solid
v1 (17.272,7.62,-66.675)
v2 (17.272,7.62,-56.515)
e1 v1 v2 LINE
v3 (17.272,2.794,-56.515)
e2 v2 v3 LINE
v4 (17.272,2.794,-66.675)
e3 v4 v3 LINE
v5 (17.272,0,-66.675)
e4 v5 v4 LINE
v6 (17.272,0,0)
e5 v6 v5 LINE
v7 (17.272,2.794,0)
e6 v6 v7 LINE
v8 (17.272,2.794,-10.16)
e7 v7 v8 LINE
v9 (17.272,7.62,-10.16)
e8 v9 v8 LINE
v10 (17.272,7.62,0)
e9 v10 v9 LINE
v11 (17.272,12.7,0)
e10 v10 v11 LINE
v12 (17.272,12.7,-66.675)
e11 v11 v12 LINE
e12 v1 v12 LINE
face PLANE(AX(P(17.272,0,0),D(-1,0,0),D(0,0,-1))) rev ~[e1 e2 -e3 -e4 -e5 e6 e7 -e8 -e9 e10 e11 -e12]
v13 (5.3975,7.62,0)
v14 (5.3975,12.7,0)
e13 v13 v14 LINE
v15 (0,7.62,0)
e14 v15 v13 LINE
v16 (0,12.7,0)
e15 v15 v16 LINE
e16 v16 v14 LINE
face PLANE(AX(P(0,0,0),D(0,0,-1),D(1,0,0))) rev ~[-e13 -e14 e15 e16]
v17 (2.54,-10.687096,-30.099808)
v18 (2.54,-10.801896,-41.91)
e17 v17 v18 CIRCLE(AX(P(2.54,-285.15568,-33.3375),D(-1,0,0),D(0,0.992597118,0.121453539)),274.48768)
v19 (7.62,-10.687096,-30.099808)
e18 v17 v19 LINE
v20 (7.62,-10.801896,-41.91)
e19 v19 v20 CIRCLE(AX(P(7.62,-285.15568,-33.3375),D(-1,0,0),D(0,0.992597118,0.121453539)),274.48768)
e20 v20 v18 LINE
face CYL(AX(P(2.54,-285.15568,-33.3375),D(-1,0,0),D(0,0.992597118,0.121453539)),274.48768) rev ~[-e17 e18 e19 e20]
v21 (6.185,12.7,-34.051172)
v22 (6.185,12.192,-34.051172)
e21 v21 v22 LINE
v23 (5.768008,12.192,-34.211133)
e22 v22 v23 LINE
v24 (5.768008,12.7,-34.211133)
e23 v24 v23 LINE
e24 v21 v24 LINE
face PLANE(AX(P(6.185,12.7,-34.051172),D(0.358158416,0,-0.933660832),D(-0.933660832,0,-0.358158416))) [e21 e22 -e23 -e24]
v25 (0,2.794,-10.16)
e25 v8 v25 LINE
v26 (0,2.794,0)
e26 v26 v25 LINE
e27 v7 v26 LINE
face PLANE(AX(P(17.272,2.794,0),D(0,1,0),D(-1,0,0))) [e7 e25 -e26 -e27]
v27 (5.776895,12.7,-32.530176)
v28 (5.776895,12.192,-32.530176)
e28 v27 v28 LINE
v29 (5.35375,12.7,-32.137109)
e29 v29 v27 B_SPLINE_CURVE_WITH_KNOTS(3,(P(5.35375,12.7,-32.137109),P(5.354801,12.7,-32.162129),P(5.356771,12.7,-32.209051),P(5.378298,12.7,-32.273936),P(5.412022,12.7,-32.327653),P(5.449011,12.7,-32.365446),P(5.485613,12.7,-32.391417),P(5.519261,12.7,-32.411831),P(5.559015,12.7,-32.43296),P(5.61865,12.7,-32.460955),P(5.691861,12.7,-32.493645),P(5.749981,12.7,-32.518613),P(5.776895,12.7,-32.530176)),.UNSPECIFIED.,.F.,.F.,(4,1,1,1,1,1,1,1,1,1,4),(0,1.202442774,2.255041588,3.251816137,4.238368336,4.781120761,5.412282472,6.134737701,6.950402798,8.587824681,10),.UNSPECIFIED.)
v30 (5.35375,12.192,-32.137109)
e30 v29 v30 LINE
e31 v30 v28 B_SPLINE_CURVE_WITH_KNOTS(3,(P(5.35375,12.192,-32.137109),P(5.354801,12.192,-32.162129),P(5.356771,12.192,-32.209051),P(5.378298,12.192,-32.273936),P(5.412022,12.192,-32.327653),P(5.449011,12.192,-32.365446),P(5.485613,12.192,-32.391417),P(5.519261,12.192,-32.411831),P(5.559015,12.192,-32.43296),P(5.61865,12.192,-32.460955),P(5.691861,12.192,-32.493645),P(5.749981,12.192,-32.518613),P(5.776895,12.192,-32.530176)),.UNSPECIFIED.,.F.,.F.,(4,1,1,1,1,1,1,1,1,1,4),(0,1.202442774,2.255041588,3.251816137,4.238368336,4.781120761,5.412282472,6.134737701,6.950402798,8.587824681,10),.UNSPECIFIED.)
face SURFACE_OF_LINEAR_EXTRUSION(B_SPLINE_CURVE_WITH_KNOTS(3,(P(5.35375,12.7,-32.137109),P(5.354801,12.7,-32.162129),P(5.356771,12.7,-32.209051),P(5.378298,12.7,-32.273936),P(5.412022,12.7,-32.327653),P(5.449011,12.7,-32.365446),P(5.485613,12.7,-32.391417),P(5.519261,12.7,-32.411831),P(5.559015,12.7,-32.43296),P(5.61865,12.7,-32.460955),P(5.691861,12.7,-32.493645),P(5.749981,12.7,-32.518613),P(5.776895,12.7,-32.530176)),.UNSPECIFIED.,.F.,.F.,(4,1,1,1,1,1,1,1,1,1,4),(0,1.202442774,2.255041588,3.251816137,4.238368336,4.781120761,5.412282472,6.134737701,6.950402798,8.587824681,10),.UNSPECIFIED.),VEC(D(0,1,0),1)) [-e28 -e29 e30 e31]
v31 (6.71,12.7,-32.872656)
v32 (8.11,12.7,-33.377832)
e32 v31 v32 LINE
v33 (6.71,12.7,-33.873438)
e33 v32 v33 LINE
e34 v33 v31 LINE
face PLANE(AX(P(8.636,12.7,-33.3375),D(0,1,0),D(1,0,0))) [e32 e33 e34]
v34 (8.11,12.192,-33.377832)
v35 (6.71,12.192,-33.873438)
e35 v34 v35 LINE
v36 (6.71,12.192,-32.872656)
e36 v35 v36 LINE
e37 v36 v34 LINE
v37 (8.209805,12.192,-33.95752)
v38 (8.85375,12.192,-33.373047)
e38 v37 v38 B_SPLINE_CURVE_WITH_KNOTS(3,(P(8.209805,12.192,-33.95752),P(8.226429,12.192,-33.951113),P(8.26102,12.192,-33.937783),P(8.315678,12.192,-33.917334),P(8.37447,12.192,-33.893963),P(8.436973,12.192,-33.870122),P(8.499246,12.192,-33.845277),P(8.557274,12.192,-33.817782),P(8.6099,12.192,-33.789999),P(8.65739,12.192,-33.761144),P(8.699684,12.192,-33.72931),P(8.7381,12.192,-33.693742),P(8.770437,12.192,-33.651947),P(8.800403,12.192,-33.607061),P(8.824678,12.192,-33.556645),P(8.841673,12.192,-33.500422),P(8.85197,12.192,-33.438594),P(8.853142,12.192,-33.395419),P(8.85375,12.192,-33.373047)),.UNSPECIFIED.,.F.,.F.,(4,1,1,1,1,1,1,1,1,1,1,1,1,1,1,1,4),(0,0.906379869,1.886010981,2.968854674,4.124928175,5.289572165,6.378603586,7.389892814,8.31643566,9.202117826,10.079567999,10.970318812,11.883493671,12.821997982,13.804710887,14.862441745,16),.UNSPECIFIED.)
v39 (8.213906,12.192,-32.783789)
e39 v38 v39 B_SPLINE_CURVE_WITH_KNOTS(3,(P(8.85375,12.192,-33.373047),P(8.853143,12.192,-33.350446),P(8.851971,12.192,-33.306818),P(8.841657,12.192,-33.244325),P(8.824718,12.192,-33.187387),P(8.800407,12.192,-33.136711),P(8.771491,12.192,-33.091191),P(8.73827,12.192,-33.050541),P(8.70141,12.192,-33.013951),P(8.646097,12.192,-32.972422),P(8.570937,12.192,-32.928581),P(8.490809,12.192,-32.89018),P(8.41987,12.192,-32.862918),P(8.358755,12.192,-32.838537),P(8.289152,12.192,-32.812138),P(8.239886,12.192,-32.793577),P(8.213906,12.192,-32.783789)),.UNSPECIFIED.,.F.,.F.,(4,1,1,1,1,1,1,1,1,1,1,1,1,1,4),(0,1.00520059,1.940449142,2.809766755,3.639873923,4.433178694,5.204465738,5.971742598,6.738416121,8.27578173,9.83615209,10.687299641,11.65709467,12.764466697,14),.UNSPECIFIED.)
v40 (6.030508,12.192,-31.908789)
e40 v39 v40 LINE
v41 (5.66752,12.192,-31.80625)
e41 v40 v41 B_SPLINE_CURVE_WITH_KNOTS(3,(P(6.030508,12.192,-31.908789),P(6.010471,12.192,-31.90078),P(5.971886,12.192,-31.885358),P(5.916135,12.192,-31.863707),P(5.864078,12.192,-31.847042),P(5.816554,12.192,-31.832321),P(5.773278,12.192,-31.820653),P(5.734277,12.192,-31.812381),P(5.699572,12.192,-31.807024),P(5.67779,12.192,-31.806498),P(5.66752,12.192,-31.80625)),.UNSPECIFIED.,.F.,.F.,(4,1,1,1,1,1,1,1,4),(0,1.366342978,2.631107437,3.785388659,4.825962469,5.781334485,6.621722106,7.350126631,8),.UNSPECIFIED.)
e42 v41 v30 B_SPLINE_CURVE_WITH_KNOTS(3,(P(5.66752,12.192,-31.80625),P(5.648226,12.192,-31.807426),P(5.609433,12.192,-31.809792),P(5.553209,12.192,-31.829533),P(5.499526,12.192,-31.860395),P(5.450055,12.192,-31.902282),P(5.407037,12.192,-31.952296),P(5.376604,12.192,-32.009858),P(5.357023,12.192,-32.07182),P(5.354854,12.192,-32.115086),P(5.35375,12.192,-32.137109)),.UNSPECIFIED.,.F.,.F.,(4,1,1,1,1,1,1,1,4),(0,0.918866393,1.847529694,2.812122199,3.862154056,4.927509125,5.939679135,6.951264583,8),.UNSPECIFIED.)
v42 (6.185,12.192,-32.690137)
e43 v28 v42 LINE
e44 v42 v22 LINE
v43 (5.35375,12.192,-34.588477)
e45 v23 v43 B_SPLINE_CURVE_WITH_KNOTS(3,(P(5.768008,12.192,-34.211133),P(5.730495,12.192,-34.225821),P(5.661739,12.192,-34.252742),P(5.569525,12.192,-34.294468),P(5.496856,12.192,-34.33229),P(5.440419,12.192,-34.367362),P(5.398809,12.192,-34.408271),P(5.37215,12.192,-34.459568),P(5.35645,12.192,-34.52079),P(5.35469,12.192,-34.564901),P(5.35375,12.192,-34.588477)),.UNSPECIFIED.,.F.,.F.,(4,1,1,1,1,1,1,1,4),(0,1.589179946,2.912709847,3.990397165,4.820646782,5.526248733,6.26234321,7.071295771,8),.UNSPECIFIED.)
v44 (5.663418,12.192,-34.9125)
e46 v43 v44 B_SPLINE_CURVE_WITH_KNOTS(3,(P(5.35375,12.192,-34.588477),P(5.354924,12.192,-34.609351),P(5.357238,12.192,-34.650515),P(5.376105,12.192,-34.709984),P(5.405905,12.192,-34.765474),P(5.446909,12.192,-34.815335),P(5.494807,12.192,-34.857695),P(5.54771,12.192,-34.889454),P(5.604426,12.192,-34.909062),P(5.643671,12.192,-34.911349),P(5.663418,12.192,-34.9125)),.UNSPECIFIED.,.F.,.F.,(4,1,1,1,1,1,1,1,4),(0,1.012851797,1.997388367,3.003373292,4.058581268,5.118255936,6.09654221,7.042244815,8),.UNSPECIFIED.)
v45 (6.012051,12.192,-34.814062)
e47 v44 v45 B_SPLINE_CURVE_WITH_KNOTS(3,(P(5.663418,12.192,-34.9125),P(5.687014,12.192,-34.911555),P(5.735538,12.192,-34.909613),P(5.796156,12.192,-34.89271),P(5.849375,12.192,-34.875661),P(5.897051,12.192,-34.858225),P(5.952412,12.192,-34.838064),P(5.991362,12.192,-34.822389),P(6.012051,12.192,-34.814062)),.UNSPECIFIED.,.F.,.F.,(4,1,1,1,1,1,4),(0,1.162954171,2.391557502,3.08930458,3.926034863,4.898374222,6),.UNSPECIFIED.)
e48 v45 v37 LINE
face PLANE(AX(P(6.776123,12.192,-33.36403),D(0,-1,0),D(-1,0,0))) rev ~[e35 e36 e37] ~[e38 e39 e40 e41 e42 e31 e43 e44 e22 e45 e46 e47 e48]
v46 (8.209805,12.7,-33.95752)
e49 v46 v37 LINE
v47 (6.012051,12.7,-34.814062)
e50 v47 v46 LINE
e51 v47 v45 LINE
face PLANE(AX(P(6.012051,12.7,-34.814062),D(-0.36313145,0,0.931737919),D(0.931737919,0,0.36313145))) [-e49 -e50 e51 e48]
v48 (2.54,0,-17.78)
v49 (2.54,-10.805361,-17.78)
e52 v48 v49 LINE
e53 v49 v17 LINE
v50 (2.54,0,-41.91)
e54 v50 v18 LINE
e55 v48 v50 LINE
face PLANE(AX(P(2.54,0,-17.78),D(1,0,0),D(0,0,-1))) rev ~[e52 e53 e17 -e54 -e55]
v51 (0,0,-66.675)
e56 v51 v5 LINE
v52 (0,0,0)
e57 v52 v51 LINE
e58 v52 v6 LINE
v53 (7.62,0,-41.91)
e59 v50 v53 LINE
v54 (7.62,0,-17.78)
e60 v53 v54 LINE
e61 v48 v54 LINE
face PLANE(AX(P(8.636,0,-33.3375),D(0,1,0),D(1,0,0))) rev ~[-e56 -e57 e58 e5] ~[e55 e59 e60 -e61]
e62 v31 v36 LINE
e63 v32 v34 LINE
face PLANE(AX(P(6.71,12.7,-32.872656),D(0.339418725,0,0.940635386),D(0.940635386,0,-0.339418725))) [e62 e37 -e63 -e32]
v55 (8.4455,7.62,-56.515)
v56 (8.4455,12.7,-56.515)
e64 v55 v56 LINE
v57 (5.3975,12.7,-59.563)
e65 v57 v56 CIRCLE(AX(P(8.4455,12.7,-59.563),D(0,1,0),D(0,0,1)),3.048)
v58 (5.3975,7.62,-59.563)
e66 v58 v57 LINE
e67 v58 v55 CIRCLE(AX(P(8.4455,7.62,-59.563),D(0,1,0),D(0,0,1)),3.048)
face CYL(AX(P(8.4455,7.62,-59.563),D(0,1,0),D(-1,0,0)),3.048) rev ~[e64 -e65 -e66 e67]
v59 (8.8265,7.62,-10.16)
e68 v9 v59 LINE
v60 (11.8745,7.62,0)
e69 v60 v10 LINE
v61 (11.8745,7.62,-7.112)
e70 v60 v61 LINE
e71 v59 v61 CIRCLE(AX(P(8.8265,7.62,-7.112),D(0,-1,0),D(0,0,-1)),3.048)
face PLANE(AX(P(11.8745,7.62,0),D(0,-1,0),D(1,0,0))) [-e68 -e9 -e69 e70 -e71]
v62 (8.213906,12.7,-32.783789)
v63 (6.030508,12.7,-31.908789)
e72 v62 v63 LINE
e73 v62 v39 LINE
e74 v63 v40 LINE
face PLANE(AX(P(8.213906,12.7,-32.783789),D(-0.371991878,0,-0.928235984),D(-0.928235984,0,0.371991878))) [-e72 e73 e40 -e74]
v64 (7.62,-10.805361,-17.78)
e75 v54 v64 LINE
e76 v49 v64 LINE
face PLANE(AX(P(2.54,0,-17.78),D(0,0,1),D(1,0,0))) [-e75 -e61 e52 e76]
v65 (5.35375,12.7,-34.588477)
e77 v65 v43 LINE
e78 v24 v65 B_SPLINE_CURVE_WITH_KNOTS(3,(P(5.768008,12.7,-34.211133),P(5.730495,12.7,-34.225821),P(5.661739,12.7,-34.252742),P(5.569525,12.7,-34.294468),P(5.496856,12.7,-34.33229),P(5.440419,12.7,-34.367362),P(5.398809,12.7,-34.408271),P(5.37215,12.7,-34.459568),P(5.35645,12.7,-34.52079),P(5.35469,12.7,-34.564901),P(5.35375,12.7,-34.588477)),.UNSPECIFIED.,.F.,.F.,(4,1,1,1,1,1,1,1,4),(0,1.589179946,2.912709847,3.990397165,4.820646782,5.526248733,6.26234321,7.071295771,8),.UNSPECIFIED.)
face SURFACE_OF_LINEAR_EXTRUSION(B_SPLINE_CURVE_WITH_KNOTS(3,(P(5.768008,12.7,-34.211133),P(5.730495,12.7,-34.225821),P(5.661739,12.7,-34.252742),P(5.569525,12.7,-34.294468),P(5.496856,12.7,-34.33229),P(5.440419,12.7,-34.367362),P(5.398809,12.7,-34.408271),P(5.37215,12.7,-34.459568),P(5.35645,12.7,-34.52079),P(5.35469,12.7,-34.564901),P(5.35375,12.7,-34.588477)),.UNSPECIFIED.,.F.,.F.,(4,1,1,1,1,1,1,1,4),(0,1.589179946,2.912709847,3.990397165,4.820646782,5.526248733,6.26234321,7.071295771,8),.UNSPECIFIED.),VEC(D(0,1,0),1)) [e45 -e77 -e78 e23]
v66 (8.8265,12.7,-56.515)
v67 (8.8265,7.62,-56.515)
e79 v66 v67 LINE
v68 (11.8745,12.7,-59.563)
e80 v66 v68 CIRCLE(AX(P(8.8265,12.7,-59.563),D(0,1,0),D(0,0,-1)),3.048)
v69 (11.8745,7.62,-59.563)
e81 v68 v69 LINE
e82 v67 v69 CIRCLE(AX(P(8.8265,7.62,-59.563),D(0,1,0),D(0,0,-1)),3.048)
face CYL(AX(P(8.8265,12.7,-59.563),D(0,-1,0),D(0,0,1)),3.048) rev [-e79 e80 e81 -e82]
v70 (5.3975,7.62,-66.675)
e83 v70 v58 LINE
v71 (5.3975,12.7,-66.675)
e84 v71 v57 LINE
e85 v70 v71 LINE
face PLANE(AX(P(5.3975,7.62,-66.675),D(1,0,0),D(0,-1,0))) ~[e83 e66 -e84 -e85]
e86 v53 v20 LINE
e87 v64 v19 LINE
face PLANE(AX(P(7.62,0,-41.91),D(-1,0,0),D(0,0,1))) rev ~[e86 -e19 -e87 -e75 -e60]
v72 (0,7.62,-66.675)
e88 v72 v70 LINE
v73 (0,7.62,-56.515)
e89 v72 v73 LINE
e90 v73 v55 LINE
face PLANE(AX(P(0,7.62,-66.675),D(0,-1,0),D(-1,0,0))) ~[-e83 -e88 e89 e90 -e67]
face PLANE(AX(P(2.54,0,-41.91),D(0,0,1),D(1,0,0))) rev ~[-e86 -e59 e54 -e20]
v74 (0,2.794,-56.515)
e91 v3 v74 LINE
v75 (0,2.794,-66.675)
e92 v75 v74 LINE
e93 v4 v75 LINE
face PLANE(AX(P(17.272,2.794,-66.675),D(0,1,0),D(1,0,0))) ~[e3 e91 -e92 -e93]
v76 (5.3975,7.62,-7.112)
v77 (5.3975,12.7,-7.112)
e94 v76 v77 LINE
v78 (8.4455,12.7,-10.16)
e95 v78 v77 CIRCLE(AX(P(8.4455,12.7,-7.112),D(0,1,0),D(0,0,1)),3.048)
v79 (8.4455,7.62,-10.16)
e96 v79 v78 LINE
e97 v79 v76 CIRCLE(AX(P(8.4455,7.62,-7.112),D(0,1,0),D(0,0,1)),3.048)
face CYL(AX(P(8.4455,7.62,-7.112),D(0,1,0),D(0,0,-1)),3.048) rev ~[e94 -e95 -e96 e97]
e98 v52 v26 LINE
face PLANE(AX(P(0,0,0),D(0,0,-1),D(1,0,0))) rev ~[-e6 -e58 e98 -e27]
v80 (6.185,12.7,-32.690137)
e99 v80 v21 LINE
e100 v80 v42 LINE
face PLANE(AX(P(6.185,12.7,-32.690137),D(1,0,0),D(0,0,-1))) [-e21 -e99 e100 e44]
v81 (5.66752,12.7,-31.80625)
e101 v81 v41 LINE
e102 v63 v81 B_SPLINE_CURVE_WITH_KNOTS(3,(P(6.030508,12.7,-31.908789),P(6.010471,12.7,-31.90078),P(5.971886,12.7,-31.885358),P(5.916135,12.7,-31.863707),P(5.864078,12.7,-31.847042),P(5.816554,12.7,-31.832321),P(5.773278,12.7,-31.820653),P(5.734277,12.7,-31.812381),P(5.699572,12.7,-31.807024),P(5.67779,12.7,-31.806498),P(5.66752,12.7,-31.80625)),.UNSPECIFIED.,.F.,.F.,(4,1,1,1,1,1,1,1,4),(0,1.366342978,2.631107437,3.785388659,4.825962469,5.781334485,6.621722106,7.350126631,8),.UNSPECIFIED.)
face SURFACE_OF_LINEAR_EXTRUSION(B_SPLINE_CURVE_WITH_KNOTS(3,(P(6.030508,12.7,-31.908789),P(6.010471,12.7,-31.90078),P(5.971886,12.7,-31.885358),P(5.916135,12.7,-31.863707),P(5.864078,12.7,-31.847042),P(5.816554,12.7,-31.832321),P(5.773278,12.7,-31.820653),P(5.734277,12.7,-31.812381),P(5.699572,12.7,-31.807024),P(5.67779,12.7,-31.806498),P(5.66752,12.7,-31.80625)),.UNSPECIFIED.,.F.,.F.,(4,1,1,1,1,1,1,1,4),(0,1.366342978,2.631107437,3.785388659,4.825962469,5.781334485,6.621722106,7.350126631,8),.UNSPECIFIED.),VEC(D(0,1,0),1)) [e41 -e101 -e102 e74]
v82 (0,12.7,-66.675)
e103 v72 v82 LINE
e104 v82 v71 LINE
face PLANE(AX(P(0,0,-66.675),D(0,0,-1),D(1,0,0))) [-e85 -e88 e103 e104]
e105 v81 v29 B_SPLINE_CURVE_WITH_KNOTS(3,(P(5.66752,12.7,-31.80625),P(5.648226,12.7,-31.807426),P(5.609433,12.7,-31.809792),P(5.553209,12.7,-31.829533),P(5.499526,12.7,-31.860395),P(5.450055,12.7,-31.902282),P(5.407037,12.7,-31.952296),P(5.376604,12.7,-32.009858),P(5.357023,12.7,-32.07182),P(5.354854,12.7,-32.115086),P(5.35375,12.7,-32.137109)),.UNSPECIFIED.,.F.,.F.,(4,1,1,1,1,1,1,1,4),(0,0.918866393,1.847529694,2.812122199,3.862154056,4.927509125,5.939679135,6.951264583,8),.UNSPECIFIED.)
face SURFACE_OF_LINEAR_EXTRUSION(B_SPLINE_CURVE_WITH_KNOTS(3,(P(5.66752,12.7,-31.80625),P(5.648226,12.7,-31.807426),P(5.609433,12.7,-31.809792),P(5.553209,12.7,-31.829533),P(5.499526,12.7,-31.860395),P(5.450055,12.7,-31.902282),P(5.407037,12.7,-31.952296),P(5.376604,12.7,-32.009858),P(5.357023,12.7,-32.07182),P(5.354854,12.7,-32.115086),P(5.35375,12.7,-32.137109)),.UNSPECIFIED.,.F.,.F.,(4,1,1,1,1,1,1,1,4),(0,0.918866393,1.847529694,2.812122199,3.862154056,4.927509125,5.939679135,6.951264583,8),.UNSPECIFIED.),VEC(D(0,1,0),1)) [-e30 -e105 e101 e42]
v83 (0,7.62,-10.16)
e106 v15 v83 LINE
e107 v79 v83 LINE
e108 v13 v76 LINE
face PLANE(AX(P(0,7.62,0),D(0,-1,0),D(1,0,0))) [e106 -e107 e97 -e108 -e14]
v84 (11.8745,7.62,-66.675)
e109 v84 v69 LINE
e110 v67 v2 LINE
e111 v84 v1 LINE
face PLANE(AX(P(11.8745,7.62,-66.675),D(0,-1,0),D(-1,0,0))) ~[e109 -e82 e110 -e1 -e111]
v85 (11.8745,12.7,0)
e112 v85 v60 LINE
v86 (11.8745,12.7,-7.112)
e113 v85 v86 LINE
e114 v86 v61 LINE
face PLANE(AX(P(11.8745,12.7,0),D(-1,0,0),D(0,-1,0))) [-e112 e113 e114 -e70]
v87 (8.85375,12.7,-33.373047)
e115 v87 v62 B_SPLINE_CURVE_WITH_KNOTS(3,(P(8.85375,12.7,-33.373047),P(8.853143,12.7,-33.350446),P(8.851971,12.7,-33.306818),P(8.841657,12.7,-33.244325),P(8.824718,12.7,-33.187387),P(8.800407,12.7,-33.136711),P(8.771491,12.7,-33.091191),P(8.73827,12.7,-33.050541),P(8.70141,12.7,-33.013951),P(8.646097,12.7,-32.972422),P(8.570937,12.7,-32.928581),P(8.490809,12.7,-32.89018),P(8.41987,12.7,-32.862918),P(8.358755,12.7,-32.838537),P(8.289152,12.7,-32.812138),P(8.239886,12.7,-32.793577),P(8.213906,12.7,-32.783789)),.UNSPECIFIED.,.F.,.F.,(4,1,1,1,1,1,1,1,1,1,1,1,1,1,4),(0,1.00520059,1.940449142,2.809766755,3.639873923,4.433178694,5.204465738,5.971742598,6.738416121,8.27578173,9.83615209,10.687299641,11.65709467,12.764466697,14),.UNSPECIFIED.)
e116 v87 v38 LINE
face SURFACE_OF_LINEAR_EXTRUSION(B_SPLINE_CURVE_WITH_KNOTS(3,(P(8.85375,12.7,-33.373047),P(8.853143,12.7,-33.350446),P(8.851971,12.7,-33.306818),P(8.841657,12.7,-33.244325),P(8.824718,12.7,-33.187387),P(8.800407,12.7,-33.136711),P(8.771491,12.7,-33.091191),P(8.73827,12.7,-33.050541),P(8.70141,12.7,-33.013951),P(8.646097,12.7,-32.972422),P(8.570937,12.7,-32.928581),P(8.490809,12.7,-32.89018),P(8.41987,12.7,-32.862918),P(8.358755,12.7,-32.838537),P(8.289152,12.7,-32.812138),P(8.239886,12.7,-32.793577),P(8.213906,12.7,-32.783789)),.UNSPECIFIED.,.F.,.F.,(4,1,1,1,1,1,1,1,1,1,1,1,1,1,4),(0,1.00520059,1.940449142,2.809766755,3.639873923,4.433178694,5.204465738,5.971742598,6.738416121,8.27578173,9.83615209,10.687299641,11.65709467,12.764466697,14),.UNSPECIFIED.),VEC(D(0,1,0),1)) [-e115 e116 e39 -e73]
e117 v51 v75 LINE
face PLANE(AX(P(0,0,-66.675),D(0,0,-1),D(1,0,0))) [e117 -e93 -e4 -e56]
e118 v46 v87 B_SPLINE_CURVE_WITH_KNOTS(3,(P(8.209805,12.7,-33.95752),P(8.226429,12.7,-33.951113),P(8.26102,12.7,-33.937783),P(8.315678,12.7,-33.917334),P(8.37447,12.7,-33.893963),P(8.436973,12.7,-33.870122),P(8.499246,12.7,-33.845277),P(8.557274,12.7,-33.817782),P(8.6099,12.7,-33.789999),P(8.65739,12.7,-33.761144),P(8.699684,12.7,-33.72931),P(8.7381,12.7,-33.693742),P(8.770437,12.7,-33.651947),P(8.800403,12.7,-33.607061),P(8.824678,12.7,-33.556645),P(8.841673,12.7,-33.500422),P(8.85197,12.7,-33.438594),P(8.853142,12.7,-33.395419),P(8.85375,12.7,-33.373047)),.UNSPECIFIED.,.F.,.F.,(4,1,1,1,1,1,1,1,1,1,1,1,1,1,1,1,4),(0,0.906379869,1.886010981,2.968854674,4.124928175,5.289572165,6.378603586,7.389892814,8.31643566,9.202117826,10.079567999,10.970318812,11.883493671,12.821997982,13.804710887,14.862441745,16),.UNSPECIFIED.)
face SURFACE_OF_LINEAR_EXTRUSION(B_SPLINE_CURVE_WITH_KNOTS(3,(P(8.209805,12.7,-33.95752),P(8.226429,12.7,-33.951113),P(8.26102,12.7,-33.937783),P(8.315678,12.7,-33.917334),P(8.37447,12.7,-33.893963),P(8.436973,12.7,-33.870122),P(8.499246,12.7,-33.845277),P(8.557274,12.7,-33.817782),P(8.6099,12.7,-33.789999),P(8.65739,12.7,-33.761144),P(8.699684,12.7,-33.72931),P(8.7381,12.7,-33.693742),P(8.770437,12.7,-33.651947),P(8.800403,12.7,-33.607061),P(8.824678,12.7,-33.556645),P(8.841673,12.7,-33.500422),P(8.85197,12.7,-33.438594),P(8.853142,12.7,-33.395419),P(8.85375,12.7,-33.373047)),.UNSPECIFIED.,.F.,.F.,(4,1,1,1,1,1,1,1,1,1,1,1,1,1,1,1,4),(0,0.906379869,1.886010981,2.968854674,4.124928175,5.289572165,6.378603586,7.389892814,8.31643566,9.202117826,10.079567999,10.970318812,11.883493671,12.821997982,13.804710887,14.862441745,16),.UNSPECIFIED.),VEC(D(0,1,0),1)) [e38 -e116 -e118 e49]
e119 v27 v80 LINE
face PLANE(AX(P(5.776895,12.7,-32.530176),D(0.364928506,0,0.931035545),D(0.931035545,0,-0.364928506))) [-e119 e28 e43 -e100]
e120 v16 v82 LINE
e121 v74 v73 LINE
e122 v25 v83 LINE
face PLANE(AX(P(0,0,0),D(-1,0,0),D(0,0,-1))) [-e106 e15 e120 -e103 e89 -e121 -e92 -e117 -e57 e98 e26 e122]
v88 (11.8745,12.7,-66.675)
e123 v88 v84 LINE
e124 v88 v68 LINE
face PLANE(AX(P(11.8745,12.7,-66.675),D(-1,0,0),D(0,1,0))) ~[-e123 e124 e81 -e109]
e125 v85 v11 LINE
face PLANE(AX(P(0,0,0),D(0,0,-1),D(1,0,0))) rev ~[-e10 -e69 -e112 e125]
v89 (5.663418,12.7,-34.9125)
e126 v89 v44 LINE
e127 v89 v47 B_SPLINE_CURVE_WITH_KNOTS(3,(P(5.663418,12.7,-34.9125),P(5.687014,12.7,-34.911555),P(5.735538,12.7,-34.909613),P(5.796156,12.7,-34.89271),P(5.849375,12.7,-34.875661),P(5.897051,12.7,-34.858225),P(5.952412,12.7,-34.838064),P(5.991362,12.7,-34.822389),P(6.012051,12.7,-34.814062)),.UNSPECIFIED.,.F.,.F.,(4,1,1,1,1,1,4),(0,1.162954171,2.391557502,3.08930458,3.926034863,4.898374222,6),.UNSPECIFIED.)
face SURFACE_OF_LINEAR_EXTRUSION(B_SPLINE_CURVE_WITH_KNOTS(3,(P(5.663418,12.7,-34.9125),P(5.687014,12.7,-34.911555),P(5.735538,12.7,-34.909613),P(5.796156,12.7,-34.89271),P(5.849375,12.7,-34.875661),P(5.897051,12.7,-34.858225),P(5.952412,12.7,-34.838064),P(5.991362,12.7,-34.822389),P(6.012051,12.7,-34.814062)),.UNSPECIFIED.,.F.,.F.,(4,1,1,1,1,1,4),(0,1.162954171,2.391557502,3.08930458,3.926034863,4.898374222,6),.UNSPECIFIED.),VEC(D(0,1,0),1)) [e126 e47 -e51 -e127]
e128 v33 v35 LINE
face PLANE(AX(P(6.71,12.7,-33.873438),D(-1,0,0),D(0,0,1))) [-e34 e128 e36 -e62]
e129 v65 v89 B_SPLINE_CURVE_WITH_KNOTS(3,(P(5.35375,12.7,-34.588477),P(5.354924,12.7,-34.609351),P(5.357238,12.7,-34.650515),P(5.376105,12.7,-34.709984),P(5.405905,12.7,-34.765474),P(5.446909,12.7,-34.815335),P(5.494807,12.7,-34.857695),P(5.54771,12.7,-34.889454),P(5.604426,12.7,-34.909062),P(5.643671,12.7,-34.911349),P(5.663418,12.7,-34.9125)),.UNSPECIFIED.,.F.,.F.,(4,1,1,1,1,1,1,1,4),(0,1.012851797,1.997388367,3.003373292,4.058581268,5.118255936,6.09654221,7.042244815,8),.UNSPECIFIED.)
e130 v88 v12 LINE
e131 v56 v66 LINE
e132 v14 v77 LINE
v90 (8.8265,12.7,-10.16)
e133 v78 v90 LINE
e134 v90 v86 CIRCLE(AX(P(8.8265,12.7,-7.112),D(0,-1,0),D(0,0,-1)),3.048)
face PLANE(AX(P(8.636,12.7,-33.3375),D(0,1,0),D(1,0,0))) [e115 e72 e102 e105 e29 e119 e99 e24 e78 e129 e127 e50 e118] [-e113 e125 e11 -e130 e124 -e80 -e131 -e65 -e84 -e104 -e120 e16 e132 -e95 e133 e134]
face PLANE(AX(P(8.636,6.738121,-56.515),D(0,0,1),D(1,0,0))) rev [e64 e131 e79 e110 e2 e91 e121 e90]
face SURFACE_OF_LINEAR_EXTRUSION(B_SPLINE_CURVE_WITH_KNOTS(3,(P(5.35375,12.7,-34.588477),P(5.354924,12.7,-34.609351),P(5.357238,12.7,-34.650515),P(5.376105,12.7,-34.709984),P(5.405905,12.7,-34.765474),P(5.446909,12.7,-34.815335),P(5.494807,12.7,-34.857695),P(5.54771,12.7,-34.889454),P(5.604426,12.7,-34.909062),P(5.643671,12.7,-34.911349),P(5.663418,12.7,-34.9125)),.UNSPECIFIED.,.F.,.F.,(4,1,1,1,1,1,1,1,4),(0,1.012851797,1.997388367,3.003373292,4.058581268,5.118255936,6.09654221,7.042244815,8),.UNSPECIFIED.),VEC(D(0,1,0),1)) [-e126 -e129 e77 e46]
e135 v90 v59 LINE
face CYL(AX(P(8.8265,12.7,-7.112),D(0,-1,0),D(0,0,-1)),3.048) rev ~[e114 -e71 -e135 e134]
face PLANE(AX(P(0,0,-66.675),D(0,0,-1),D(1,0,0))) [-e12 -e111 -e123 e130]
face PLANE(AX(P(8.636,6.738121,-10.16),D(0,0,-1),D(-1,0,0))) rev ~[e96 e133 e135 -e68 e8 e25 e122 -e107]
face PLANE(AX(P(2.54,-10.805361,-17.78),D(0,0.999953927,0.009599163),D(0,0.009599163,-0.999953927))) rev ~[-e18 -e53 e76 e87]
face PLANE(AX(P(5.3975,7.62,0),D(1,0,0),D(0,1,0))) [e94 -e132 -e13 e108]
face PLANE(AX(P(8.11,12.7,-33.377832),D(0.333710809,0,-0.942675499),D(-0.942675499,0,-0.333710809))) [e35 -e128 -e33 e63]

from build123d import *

# Parameters (mm, degrees)
SKETCH2_W            = 17.272
SKETCH2_H            = 66.675
BOSS_EXTRUDE1_DEPTH  = 12.7
SKETCH3_W            = 5.08
SKETCH3_H            = 6.35
SKETCH3_H_2          = 1.905
SKETCH3_H_3          = 1.27
BOSS_EXTRUDE2_DEPTH  = 12.7
CUT_EXTRUDE1_DEPTH   = 10.16
FILLET2_R            = 3.048
FILLET2_OF_MIRROR1_R = 3.048
CUT_EXTRUDE4_DEPTH   = 70.454139178
CUT_EXTRUDE5_DEPTH   = 0.508
CUT_EXTRUDE6_DEPTH   = 70.454139314


with BuildPart() as part:
    # Sketch2 → Boss-Extrude1 (new body)
    with BuildSketch(Plane(origin=(0, 0, 0), x_dir=(1, 0, 0), z_dir=(0, 1, 0))):
        with Locations((8.636, 33.3375)):
            Rectangle(SKETCH2_W, SKETCH2_H)
    extrude(amount=BOSS_EXTRUDE1_DEPTH)

    # Sketch3 → Boss-Extrude2 (add)
    with BuildSketch(Plane.XZ):
        with Locations((5.08, -29.21)):
            Rectangle(SKETCH3_W, SKETCH3_H)
        with Locations((5.08, -20.955)):
            Rectangle(SKETCH3_W, SKETCH3_H)
        with Locations((5.08, -25.0825)):
            Rectangle(SKETCH3_W, SKETCH3_H_2)
        with Locations((5.08, -33.3375)):
            Rectangle(SKETCH3_W, SKETCH3_H_2)
        with Locations((5.08, -37.465)):
            Rectangle(SKETCH3_W, SKETCH3_H)
        with Locations((5.08, -41.275)):
            Rectangle(SKETCH3_W, SKETCH3_H_3)
    extrude(amount=BOSS_EXTRUDE2_DEPTH)

    # Sketch4 → Cut-Extrude1 (cut)
    with BuildSketch(Plane.XY):
        Polygon((0, 7.62), (5.3975, 7.62), (5.3975, 12.7), (11.8745, 12.7), (11.8745, 7.62), (17.272, 7.62), (17.272, 2.794), (0, 2.794), align=None)
    cut_extrude1 = extrude(amount=-CUT_EXTRUDE1_DEPTH, mode=Mode.SUBTRACT)

    # Fillet2
    fillet2_edges = [part.edges().sort_by_distance(p)[0] for p in [
        (5.3975, 10.16, -10.16),
        (11.8745, 10.16, -10.16),
    ]]
    fillet(fillet2_edges, radius=FILLET2_R)

    # Mirror1: Cut-Extrude1 across plane
    add(cut_extrude1.mirror(Plane.XY.offset(-33.3375)), mode=Mode.SUBTRACT)

    # Fillet2 of Mirror1
    fillet2_of_mirror1_edges = [part.edges().sort_by_distance(p)[0] for p in [
        (5.3975, 10.16, -56.515),
        (11.8745, 10.16, -56.515),
    ]]
    fillet(fillet2_of_mirror1_edges, radius=FILLET2_OF_MIRROR1_R)

    # Sketch5 → Cut-Extrude4 (cut, through all)
    with BuildSketch(Plane.ZY.offset(-2.54)):
        with BuildLine():
            Line((-66.675, -12.7), (0, -12.7))
            ThreePointArc((0, -12.7), (-33.3375, -10.668), (-66.675, -12.7))
        make_face()
    extrude(amount=-CUT_EXTRUDE4_DEPTH, mode=Mode.SUBTRACT)

    # Sketch6 → Cut-Extrude5 (cut)
    with BuildSketch(Plane(origin=(0, 12.7, 0), x_dir=(1, 0, 0), z_dir=(0, 1, 0))):
        with BuildLine():
            Line((5.776894531, 32.530175781), (6.185, 32.690136719))
            Line((6.185, 32.690136719), (6.185, 34.051171875))
            Line((6.185, 34.051171875), (5.768007812, 34.211132812))
            add(Edge.make_bspline(
                [(5.768007812, 34.211132812), (5.730494518, 34.225820978), (5.661738716, 34.25274201), (5.569524922, 34.294468396), (5.496856289, 34.332290336), (5.44041907, 34.367362499), (5.398808713, 34.408271263), (5.372150366, 34.459568119), (5.356449781, 34.520790431), (5.354690345, 34.564901212), (5.35375, 34.588476562)],
                knots=[0, 0, 0, 0, 1.589179946, 2.912709847, 3.990397165, 4.820646782, 5.526248733, 6.26234321, 7.071295771, 8, 8, 8, 8], degree=3))
            add(Edge.make_bspline(
                [(5.35375, 34.588476562), (5.354923711, 34.609350692), (5.35723832, 34.650515396), (5.376105038, 34.709983847), (5.405904793, 34.765474392), (5.446909477, 34.815335315), (5.494806824, 34.85769508), (5.547709989, 34.88945387), (5.604426015, 34.909062179), (5.643671152, 34.911349233), (5.663417969, 34.9125)],
                knots=[0, 0, 0, 0, 1.012851797, 1.997388367, 3.003373292, 4.058581268, 5.118255936, 6.09654221, 7.042244815, 8, 8, 8, 8], degree=3))
            add(Edge.make_bspline(
                [(5.663417969, 34.9125), (5.687013914, 34.911555345), (5.735537805, 34.90961271), (5.796155547, 34.892709958), (5.849374825, 34.875661052), (5.897051464, 34.858225338), (5.952411749, 34.838064341), (5.991361751, 34.822388839), (6.012050781, 34.8140625)],
                knots=[0, 0, 0, 0, 1.162954171, 2.391557502, 3.08930458, 3.926034863, 4.898374222, 6, 6, 6, 6], degree=3))
            Line((6.012050781, 34.8140625), (8.209804687, 33.957519531))
            add(Edge.make_bspline(
                [(8.209804687, 33.957519531), (8.226428771, 33.951113113), (8.261020453, 33.937782526), (8.315677882, 33.917334175), (8.374470369, 33.893962658), (8.436973219, 33.870121703), (8.499246191, 33.845277035), (8.557274142, 33.8177815), (8.609899907, 33.789999082), (8.657389954, 33.761144082), (8.699684296, 33.729310109), (8.738099697, 33.693741829), (8.770436623, 33.651946673), (8.800403384, 33.607060747), (8.824677671, 33.556645473), (8.841672776, 33.500421669), (8.85196969, 33.4385942), (8.85314235, 33.395419307), (8.85375, 33.373046875)],
                knots=[0, 0, 0, 0, 0.906379869, 1.886010981, 2.968854674, 4.124928175, 5.289572165, 6.378603586, 7.389892814, 8.31643566, 9.202117826, 10.079567999, 10.970318812, 11.883493671, 12.821997982, 13.804710887, 14.862441745, 16, 16, 16, 16], degree=3))
            add(Edge.make_bspline(
                [(8.85375, 33.373046875), (8.853143023, 33.350446171), (8.85197131, 33.306817548), (8.841657146, 33.244325061), (8.824718356, 33.187386785), (8.800407201, 33.136711098), (8.771490665, 33.091190553), (8.738270432, 33.050541152), (8.70140971, 33.013950972), (8.646096874, 32.972422303), (8.570937447, 32.928580779), (8.490808779, 32.890179852), (8.419869551, 32.862917705), (8.358755001, 32.838536673), (8.289151734, 32.812137701), (8.23988638, 32.793577043), (8.21390625, 32.783789062)],
                knots=[0, 0, 0, 0, 1.00520059, 1.940449142, 2.809766755, 3.639873923, 4.433178694, 5.204465738, 5.971742598, 6.738416121, 8.27578173, 9.83615209, 10.687299641, 11.65709467, 12.764466697, 14, 14, 14, 14], degree=3))
            Line((8.21390625, 32.783789062), (6.030507812, 31.908789062))
            add(Edge.make_bspline(
                [(6.030507812, 31.908789062), (6.010470664, 31.900780275), (5.971885996, 31.885358101), (5.916134993, 31.863706725), (5.864078369, 31.847042494), (5.816554299, 31.832321275), (5.773278478, 31.820653382), (5.734277438, 31.812380787), (5.699571652, 31.807024394), (5.67778988, 31.806498136), (5.667519531, 31.80625)],
                knots=[0, 0, 0, 0, 1.366342978, 2.631107437, 3.785388659, 4.825962469, 5.781334485, 6.621722106, 7.350126631, 8, 8, 8, 8], degree=3))
            add(Edge.make_bspline(
                [(5.667519531, 31.80625), (5.648226041, 31.807426445), (5.609433355, 31.809791878), (5.553209022, 31.829532937), (5.499526082, 31.860395105), (5.450055079, 31.902282304), (5.40703675, 31.952295628), (5.376604178, 32.009857625), (5.357023182, 32.071819825), (5.354854098, 32.115086145), (5.35375, 32.137109375)],
                knots=[0, 0, 0, 0, 0.918866393, 1.847529694, 2.812122199, 3.862154056, 4.927509125, 5.939679135, 6.951264583, 8, 8, 8, 8], degree=3))
            add(Edge.make_bspline(
                [(5.35375, 32.137109375), (5.354800528, 32.162129105), (5.356770672, 32.209050699), (5.378297511, 32.273936), (5.412022157, 32.327652709), (5.44901113, 32.36544648), (5.485613066, 32.391416915), (5.519260812, 32.411831411), (5.559015285, 32.432959548), (5.618650091, 32.460955232), (5.691860724, 32.493644584), (5.749980868, 32.518613458), (5.776894531, 32.530175781)],
                knots=[0, 0, 0, 0, 1.202442774, 2.255041588, 3.251816137, 4.238368336, 4.781120761, 5.412282472, 6.134737701, 6.950402798, 8.587824681, 10, 10, 10, 10], degree=3))
        make_face()
        Polygon((6.71, 33.8734375), (6.71, 32.87265625), (8.11, 33.377832031), align=None, mode=Mode.SUBTRACT)
    extrude(amount=-CUT_EXTRUDE5_DEPTH, mode=Mode.SUBTRACT)

    # Sketch7 → Cut-Extrude6 (cut, through all)
    with BuildSketch(Plane.ZY.offset(-2.54)):
        with BuildLine():
            Line((-17.78, -11.109241116), (-17.78, -10.805360899))
            Line((-17.78, -10.805360899), (-30.099808499, -10.687095595))
            ThreePointArc((-30.099808499, -10.687095595), (-23.93753417, -10.829000448), (-17.78, -11.109241116))
        make_face()
    extrude(amount=-CUT_EXTRUDE6_DEPTH, mode=Mode.SUBTRACT)


solid = part.part
